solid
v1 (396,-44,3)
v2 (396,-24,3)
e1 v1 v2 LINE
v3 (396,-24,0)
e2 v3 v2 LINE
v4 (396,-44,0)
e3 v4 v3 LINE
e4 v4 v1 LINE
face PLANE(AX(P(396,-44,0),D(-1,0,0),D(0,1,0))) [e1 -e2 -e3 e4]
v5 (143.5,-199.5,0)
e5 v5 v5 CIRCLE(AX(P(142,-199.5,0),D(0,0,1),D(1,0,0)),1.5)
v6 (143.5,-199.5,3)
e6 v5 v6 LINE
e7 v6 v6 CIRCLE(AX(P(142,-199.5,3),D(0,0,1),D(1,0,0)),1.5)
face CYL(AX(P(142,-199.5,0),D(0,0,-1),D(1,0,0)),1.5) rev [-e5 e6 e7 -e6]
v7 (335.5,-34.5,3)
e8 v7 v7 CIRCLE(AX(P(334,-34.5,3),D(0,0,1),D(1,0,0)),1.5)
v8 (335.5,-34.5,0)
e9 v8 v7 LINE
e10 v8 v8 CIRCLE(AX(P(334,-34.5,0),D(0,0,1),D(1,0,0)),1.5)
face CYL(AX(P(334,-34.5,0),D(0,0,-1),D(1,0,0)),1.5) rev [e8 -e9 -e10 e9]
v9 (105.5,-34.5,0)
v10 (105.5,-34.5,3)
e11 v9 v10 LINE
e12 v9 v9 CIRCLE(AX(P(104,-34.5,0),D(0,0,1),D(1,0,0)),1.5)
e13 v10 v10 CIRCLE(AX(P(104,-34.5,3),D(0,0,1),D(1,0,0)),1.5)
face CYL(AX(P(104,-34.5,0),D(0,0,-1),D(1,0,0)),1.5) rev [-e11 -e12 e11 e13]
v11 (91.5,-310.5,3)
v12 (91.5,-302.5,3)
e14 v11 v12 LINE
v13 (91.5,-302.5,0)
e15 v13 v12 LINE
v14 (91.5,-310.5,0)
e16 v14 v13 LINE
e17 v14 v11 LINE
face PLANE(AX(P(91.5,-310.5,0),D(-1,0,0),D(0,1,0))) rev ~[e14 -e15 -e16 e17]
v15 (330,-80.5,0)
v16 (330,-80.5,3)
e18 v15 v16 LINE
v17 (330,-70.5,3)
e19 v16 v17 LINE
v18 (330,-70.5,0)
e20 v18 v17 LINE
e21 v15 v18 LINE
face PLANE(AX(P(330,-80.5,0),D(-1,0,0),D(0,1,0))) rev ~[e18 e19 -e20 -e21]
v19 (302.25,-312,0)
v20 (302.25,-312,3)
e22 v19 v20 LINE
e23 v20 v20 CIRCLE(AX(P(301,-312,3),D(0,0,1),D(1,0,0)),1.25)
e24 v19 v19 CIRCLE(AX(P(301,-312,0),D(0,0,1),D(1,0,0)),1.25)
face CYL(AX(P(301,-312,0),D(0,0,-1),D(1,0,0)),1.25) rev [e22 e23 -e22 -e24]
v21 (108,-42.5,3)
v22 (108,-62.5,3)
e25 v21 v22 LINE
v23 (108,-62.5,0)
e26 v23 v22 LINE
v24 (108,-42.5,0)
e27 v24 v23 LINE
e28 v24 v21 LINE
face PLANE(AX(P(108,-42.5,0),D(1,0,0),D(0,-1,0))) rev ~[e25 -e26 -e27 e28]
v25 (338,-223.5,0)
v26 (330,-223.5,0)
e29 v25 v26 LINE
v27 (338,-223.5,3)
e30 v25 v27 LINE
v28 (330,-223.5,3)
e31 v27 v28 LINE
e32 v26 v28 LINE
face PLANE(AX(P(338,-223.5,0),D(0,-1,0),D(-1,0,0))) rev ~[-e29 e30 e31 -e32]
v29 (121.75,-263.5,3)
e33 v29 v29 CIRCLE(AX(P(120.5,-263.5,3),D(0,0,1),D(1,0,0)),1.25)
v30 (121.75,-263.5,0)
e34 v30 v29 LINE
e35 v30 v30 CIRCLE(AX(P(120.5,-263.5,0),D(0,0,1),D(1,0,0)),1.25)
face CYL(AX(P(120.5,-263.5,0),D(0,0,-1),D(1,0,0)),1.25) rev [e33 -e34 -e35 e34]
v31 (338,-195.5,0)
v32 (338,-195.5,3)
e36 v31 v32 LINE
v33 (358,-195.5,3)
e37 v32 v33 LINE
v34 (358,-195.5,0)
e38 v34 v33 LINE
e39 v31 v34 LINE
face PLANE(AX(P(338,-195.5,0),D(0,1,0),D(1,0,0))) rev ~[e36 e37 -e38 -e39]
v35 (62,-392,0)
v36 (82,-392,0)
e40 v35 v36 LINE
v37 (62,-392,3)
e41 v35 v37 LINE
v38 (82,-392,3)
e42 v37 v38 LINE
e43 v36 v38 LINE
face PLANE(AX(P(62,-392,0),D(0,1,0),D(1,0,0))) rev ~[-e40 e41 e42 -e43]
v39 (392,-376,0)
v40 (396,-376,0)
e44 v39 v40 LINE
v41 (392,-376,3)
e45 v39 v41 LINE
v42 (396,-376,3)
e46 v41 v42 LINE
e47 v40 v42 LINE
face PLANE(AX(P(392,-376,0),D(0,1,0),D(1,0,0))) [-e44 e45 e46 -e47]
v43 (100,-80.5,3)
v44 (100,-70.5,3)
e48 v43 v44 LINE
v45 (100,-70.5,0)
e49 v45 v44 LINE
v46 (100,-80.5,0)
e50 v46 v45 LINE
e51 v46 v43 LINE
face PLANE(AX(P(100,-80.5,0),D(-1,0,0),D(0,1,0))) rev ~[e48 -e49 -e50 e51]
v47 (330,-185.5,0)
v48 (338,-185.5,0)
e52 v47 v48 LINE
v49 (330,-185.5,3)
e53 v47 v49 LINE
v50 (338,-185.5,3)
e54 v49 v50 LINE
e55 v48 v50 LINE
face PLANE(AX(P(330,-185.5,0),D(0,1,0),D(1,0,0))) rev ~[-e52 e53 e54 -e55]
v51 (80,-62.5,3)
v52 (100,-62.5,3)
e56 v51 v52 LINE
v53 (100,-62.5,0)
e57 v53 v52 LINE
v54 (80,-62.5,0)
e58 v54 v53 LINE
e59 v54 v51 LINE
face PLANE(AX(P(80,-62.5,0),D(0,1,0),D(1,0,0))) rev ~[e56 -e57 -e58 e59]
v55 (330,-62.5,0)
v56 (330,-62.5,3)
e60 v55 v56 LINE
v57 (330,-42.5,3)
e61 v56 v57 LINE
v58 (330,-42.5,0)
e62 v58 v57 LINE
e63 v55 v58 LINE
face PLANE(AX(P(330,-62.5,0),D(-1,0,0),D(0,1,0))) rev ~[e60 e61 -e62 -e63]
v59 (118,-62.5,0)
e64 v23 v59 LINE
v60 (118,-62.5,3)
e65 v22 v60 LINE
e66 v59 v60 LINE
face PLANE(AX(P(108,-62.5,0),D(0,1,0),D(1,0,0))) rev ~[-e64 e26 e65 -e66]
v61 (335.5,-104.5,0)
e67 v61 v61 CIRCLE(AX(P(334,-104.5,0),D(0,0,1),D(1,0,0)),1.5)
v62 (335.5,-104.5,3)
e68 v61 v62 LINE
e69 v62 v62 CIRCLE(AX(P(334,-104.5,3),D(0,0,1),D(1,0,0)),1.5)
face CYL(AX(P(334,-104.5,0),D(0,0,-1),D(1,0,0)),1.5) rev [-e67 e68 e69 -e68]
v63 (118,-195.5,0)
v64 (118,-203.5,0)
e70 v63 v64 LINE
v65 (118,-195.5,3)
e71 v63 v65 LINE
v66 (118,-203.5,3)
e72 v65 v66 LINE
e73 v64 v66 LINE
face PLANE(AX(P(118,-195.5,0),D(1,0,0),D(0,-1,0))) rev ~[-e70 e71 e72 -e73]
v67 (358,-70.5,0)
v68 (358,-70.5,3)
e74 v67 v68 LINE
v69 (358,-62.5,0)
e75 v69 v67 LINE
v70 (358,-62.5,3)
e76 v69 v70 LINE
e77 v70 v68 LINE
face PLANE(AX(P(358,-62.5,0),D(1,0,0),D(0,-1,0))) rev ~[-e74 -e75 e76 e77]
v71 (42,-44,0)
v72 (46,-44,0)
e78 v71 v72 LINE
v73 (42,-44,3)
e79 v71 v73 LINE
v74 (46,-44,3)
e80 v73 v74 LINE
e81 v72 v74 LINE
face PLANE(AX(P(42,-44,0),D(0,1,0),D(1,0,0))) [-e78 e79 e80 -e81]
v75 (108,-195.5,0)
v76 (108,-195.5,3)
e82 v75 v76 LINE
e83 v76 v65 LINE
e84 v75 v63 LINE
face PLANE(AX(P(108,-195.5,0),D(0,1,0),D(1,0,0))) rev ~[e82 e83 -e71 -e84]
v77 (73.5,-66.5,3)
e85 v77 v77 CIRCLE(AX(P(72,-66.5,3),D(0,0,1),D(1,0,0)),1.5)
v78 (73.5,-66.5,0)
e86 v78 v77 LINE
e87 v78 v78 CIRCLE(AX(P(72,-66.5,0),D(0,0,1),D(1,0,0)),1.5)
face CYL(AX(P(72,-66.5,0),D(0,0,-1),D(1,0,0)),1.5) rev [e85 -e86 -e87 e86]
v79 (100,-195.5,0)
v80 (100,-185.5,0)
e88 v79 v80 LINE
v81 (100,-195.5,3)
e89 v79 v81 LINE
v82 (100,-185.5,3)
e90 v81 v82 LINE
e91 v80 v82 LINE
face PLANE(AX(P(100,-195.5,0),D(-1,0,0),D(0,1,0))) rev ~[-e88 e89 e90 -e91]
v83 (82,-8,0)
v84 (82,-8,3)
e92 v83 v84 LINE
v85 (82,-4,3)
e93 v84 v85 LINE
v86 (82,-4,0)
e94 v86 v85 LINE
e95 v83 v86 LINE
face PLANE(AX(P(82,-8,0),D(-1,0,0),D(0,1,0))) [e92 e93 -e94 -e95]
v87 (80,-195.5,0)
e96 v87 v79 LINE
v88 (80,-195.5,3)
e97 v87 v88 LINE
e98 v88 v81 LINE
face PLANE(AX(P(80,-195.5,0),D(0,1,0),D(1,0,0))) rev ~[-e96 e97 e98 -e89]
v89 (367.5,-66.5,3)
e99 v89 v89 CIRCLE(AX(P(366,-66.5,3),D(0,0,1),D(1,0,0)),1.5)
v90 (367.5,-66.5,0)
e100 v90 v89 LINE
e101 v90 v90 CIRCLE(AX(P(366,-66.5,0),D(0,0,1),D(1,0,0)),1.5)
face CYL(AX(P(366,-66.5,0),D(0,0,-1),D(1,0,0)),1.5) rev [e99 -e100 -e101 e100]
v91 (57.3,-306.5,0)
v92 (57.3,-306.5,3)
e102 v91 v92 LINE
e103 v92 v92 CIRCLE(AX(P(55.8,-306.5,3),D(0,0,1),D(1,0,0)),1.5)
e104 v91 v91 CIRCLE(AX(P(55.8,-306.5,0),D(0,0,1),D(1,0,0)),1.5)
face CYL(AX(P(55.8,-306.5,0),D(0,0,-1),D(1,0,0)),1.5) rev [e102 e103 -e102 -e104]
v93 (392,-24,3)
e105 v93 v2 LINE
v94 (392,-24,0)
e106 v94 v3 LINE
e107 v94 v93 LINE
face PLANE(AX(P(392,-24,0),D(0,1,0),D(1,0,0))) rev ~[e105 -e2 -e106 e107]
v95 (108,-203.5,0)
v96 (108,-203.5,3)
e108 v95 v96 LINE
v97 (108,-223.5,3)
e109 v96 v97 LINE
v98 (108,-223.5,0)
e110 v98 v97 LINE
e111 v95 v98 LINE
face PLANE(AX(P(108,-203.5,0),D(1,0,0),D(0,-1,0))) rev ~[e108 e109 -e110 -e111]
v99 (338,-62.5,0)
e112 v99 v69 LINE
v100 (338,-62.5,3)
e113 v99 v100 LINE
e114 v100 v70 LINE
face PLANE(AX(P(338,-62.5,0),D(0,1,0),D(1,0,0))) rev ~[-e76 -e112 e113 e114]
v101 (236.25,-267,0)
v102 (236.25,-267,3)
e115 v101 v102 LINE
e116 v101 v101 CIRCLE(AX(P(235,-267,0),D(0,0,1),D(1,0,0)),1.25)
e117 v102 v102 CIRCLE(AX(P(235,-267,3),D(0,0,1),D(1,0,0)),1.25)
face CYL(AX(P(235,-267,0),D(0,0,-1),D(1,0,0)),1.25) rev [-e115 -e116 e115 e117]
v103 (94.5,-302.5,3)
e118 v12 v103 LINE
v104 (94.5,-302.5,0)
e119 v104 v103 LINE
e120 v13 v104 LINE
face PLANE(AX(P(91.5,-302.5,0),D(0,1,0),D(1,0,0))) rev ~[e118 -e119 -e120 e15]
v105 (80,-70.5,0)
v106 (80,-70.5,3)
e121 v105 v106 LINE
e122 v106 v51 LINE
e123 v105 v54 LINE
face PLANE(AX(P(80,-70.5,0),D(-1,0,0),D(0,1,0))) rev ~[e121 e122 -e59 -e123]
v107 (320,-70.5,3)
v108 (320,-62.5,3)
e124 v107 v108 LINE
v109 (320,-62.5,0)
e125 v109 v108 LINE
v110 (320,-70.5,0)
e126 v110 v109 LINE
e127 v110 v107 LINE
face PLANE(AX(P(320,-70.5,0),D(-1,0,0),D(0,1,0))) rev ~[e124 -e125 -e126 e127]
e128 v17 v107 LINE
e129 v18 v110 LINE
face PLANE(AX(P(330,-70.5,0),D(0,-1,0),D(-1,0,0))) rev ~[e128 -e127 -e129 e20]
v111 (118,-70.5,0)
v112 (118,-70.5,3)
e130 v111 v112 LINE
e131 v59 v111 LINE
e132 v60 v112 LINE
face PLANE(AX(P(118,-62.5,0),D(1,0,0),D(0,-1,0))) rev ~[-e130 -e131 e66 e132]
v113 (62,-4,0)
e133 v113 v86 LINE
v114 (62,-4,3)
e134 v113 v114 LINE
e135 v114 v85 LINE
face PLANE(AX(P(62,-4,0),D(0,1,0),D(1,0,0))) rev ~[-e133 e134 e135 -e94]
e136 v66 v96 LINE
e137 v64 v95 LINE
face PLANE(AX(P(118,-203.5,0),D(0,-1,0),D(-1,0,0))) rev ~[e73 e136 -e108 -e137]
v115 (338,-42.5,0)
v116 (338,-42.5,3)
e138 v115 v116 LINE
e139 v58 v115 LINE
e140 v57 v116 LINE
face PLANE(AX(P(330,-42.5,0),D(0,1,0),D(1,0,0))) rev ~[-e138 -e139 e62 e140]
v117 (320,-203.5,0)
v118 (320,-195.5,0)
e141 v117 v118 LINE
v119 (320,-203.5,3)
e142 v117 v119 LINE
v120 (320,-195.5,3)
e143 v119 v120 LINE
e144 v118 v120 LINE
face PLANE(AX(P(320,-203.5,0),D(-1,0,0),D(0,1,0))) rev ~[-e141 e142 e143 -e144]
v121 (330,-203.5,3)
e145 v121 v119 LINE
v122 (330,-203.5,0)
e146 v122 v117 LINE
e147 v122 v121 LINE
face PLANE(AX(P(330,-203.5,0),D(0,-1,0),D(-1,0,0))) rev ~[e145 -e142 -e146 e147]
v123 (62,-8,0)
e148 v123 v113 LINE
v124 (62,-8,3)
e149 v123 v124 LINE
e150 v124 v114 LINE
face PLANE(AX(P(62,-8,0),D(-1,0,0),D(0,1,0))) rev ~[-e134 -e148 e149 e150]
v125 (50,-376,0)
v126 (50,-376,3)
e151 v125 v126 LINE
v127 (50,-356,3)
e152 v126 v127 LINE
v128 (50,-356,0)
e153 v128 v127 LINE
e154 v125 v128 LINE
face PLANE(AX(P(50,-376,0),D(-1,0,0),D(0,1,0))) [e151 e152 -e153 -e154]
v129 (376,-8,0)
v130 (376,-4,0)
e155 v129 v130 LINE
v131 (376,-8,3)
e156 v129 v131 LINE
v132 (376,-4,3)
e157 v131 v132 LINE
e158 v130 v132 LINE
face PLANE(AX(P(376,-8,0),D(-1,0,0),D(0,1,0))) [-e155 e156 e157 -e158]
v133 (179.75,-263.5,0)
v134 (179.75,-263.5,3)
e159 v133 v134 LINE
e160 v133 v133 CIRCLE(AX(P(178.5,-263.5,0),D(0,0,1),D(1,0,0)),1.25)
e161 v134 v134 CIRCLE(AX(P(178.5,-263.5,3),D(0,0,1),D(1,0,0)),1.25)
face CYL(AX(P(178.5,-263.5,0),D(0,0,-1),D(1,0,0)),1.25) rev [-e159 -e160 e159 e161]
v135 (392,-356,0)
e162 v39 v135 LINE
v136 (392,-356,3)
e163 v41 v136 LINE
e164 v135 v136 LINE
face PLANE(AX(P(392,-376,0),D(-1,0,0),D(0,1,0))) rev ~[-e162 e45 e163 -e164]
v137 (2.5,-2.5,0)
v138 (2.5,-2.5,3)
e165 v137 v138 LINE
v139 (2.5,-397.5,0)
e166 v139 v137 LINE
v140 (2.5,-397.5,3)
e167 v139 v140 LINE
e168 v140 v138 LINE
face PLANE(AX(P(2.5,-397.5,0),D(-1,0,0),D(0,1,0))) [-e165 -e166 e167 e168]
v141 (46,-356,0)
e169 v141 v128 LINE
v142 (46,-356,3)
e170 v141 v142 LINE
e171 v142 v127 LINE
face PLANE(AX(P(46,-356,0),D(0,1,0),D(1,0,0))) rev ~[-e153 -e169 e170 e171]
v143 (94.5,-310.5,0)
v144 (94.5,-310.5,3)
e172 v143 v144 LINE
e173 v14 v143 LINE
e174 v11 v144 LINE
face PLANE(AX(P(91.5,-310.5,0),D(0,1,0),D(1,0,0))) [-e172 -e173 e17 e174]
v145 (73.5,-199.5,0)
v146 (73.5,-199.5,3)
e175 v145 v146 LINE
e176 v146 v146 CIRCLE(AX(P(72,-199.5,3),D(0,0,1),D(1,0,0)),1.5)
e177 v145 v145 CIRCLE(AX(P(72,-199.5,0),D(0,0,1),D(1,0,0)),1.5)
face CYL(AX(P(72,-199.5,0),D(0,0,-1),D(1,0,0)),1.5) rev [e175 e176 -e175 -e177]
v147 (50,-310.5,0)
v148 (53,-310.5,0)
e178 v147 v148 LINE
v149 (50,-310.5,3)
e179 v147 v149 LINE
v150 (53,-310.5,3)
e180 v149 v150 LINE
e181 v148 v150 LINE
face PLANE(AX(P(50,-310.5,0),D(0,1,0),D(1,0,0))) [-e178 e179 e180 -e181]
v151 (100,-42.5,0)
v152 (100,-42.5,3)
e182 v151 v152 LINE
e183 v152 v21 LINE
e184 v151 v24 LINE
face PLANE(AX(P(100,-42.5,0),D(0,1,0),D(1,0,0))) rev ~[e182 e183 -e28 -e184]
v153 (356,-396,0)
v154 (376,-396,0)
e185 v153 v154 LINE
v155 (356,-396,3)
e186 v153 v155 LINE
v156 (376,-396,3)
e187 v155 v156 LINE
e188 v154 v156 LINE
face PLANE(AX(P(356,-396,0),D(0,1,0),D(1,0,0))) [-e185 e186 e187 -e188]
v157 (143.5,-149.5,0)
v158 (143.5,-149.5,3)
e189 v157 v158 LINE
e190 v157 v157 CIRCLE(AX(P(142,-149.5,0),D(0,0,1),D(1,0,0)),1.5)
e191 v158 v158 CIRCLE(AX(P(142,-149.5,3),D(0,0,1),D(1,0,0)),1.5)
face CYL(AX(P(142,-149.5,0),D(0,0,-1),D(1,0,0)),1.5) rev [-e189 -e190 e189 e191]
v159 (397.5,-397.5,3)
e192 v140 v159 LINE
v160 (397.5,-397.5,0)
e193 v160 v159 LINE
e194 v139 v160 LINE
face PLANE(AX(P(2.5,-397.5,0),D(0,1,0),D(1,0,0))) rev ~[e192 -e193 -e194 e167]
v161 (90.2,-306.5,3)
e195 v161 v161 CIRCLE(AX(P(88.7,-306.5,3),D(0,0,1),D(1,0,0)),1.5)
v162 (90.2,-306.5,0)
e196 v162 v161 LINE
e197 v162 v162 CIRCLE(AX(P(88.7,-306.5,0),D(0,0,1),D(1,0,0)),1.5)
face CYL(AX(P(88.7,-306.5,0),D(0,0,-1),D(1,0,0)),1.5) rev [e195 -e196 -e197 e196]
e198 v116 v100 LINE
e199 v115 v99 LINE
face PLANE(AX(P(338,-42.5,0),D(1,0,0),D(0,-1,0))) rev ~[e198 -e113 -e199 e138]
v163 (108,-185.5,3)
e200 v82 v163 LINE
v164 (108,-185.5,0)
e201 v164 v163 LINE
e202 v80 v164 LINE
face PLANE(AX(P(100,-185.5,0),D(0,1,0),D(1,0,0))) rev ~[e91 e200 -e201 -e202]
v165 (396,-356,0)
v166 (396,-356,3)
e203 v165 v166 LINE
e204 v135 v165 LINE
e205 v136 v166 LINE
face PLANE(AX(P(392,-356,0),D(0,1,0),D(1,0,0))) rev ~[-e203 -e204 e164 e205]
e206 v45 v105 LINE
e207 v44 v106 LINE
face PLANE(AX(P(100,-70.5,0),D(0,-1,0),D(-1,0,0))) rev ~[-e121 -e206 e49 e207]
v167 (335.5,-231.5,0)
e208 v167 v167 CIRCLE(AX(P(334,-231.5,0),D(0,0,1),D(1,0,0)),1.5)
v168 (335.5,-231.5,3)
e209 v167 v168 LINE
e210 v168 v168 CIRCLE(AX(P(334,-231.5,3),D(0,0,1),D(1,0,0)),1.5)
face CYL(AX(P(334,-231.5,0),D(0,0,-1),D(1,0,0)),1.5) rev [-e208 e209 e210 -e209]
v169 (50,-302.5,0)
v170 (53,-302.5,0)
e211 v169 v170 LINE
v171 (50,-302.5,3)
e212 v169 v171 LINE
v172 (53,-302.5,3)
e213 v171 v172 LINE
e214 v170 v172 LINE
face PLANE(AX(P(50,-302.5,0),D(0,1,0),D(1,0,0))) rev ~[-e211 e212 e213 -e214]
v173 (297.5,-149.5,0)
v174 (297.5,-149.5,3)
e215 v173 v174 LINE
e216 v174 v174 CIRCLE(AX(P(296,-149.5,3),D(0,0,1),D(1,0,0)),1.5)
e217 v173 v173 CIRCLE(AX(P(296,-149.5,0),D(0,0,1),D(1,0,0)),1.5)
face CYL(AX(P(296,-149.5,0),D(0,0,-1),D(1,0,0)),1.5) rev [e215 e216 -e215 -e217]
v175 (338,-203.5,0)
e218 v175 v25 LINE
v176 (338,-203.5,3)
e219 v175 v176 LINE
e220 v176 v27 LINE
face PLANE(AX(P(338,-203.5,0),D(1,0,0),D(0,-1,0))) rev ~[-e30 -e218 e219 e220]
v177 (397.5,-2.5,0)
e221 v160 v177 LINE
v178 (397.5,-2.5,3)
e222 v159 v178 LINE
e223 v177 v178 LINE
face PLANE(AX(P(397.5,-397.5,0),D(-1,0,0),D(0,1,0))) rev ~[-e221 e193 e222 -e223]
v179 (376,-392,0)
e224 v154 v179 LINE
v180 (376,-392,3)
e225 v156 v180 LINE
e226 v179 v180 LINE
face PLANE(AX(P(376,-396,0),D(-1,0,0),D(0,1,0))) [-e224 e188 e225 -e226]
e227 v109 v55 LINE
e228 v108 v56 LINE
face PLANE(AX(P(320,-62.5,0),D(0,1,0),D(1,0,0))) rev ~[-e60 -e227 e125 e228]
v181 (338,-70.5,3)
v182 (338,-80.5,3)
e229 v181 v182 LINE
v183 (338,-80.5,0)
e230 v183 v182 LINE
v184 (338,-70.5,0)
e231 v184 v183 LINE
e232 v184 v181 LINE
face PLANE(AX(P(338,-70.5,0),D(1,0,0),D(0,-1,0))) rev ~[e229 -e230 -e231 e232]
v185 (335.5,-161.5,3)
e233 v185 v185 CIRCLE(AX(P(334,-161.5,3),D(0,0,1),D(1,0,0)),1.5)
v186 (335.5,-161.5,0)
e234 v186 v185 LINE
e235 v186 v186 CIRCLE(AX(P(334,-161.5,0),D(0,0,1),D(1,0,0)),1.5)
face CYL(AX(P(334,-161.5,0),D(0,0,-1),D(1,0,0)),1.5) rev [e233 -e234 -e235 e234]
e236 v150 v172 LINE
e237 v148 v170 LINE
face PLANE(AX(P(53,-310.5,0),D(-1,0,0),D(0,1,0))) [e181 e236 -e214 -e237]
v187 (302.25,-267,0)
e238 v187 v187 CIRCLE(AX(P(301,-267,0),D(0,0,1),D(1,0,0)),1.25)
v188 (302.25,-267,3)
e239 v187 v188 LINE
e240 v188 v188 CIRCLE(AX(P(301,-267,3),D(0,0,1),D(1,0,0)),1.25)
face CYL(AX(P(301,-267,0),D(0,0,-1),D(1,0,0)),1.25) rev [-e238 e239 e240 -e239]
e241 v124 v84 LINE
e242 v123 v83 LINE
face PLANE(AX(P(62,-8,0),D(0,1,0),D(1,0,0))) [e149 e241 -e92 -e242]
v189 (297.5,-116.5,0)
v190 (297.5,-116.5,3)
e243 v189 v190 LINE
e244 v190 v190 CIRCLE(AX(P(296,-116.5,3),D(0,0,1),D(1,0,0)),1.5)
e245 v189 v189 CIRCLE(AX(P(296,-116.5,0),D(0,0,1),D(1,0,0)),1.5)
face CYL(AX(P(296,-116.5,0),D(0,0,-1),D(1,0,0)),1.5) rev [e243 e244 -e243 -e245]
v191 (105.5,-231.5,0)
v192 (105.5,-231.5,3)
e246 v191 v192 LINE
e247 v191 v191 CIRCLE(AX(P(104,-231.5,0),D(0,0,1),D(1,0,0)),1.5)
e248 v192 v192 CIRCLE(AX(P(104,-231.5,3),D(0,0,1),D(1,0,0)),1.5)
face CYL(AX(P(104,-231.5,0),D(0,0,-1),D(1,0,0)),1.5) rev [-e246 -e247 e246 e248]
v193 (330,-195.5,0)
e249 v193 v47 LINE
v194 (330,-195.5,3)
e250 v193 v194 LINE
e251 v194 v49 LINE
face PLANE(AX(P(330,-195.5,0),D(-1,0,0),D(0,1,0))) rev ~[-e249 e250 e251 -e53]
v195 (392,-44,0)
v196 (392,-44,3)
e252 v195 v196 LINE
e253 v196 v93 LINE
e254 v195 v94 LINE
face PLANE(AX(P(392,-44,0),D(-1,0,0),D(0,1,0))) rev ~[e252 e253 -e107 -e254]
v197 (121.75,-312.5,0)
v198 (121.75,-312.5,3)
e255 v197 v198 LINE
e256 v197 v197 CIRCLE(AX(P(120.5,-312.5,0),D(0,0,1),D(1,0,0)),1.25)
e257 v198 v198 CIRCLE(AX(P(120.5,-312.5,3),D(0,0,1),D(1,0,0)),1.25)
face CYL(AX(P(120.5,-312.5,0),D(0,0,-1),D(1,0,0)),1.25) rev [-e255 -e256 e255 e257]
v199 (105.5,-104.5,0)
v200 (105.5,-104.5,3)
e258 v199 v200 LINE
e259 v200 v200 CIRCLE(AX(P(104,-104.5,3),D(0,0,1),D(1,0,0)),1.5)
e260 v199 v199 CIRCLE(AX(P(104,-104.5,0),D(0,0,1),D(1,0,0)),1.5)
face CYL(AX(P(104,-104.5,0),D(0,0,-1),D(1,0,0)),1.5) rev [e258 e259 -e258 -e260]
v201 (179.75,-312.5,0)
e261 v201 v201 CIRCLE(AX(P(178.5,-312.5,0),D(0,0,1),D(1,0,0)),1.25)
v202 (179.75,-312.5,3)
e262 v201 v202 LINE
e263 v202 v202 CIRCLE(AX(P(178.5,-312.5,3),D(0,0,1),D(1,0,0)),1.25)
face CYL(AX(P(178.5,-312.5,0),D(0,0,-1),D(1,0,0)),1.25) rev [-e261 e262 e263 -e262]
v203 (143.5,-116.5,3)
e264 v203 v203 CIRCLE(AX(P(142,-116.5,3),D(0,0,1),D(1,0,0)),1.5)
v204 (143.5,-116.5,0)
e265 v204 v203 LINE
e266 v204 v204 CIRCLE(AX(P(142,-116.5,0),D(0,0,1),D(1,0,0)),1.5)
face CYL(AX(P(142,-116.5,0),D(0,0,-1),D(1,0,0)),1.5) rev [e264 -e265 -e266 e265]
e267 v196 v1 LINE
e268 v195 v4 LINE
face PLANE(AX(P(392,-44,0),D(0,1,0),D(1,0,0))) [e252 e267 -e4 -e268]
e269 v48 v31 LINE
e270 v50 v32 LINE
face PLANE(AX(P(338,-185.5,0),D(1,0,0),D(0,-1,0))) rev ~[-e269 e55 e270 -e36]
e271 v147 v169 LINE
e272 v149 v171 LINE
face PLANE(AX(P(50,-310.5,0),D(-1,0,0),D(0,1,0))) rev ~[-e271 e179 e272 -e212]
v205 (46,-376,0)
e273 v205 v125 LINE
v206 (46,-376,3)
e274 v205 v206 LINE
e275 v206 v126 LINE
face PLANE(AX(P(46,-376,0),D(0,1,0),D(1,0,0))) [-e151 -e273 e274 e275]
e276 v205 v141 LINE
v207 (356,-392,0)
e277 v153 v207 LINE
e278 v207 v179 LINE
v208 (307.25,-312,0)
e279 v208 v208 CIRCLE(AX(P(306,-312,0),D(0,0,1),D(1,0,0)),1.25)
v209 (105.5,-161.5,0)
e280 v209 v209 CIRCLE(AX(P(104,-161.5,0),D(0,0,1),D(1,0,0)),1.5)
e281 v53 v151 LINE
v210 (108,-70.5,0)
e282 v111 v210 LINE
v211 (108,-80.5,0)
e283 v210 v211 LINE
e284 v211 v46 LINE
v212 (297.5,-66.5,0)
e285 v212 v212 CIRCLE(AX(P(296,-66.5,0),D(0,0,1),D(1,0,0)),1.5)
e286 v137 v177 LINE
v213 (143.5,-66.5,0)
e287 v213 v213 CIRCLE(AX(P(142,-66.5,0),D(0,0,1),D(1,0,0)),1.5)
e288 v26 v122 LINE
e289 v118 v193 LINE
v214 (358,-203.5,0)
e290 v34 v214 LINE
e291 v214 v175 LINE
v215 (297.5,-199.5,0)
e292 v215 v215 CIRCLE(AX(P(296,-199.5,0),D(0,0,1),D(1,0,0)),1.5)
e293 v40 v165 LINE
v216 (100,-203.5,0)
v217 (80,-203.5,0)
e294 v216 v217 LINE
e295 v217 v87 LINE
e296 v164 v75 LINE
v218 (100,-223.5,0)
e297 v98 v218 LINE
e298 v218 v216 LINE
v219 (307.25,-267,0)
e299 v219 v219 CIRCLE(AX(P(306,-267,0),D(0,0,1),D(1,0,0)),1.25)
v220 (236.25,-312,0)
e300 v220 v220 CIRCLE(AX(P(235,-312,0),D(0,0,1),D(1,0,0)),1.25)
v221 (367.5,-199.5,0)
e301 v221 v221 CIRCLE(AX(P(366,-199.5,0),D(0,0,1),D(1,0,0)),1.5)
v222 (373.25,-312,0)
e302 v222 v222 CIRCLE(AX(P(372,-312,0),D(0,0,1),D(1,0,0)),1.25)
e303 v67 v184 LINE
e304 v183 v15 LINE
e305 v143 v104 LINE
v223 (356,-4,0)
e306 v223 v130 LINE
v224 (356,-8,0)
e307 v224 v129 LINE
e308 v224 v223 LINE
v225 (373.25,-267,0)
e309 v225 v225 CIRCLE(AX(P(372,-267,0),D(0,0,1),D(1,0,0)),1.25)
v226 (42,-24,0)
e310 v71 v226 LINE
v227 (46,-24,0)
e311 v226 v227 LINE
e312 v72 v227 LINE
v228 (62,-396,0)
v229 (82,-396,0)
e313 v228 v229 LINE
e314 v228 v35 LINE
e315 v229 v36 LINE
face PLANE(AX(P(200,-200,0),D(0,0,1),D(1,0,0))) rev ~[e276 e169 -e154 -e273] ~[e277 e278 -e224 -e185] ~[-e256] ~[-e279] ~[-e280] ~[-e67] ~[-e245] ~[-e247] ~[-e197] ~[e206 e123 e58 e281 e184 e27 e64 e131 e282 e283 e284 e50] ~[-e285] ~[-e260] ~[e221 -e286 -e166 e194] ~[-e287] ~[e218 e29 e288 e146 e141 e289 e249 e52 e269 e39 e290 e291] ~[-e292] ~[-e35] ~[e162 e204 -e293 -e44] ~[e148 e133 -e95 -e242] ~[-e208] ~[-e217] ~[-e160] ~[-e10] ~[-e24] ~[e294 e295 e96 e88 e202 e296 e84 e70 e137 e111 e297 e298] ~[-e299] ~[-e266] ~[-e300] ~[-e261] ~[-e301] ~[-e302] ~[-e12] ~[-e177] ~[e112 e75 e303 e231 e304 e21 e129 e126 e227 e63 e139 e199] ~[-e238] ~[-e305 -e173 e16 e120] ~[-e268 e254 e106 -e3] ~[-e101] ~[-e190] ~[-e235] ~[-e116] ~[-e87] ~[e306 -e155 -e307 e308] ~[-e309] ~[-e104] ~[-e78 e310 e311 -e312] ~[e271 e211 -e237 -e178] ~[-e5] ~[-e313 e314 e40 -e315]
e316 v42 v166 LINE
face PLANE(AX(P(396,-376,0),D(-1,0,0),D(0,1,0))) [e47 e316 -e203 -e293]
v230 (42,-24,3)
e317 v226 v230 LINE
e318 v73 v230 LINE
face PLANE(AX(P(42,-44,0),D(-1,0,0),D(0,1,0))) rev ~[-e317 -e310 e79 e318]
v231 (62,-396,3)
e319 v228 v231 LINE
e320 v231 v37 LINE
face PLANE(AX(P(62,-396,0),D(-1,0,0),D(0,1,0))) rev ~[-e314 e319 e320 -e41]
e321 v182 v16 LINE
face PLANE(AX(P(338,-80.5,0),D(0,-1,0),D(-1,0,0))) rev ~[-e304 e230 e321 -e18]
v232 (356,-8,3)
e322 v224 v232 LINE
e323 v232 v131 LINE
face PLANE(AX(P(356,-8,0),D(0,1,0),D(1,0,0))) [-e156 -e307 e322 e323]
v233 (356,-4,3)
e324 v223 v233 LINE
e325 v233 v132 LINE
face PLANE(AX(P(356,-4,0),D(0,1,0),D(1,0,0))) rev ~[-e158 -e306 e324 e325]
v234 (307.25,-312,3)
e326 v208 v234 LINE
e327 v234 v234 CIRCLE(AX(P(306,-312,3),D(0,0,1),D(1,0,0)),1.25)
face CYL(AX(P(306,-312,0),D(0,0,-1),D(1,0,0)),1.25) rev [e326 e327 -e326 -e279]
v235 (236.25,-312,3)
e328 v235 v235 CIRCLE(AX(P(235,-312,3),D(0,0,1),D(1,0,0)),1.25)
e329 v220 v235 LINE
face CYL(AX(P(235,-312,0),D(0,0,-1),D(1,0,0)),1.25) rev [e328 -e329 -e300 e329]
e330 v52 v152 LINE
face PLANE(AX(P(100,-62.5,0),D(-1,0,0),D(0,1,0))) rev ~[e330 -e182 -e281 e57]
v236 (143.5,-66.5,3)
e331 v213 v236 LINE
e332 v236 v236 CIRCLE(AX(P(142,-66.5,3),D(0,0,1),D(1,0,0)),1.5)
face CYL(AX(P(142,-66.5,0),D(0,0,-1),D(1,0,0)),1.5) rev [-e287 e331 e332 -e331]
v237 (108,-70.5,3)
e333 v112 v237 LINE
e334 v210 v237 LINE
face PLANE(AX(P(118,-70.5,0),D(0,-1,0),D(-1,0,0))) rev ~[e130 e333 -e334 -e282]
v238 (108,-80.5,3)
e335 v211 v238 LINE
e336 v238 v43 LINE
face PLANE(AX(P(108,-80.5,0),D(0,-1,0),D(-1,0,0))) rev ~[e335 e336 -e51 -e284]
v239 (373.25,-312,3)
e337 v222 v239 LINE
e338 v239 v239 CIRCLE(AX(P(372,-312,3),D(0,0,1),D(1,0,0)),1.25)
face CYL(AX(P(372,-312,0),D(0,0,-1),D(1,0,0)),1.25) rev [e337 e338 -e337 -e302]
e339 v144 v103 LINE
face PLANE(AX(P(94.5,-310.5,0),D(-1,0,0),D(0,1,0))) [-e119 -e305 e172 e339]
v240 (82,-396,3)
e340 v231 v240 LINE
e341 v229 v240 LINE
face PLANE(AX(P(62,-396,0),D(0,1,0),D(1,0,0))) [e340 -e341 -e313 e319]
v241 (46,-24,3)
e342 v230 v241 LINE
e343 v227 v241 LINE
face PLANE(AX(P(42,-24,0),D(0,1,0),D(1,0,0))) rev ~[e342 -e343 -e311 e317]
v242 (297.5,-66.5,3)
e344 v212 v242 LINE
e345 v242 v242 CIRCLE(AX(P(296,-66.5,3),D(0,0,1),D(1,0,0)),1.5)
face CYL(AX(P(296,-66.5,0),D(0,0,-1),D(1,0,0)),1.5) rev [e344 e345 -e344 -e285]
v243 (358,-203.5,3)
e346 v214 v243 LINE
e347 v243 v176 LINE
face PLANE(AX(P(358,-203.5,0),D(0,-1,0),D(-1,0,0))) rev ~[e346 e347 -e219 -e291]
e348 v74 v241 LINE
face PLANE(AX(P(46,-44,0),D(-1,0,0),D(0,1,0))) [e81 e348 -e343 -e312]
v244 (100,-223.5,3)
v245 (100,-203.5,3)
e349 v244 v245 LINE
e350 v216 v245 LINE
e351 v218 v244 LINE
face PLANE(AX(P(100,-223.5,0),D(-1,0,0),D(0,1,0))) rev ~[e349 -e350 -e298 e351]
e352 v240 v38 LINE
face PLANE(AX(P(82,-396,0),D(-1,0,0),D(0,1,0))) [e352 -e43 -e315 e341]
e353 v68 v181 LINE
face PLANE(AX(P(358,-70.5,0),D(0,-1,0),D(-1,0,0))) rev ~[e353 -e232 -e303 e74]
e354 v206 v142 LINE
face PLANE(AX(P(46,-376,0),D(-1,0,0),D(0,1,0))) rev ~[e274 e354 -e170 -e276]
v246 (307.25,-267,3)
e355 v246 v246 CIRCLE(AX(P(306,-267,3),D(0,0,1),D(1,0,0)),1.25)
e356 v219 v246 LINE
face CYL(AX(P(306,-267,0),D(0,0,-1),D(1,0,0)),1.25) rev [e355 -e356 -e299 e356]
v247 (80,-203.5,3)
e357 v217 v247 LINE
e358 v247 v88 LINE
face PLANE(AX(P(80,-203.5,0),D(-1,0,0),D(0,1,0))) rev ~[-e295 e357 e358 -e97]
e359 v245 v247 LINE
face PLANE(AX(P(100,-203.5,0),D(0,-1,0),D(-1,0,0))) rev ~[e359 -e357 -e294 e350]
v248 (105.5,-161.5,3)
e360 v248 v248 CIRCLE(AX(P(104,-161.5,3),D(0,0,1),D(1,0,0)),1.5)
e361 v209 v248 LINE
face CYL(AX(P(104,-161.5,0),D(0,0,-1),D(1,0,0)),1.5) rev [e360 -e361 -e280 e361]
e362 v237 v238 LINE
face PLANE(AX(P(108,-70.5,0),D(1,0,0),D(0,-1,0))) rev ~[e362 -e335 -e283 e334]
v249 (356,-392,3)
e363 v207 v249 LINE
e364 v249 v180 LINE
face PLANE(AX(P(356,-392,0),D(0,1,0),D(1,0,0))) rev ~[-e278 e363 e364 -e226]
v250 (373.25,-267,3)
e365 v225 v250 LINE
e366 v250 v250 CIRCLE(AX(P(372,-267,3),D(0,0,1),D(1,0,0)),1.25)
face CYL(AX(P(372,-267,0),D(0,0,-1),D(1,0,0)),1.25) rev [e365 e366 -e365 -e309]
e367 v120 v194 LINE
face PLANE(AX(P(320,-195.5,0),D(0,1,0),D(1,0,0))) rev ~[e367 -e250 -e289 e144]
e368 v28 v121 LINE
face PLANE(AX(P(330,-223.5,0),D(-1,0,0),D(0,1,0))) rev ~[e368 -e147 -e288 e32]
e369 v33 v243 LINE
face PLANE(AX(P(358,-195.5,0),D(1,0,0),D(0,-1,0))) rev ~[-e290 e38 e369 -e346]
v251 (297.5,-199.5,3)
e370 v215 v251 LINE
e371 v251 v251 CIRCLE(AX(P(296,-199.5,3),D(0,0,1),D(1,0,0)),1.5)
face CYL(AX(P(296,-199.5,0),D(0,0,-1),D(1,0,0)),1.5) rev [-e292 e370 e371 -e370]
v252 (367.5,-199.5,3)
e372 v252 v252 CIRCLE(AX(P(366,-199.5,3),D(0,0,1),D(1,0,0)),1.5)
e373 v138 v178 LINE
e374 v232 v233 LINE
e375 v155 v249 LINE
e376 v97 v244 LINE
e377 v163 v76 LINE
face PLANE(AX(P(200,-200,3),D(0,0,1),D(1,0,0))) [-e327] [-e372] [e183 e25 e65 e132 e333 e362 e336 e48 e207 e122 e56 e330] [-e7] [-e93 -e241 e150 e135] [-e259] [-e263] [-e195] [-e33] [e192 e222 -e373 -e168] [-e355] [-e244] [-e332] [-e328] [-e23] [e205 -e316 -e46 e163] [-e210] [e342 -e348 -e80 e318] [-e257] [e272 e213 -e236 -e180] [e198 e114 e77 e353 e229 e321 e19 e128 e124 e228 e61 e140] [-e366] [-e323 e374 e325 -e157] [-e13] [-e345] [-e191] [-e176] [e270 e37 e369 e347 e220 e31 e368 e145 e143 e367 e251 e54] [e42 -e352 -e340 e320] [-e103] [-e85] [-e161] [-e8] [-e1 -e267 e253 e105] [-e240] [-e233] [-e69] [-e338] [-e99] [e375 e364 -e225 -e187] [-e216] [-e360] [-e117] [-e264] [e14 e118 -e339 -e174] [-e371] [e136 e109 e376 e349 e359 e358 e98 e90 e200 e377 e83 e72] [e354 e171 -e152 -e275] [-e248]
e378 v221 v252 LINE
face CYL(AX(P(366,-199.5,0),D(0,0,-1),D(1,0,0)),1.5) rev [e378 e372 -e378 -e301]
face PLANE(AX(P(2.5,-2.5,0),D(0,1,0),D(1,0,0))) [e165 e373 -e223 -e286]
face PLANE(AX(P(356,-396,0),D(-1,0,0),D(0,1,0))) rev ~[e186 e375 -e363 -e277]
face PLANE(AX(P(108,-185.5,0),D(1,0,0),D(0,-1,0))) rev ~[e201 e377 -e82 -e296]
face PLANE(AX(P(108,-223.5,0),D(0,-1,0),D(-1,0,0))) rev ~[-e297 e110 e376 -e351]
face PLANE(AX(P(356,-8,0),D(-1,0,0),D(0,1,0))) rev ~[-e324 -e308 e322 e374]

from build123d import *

# Parameters (mm, degrees)
SKETCH_W   = 395
SKETCH_H   = 395
SKETCH_R   = 1.25
SKETCH_R_2 = 1.5
SKETCH_W_2 = 20
SKETCH_H_2 = 4
SKETCH_W_3 = 4
SKETCH_H_3 = 20
SKETCH_W_4 = 3
SKETCH_H_4 = 8
PAD_DEPTH  = 3


with BuildPart() as part:
    # Sketch → Pad (new body)
    with BuildSketch(Plane.XY):
        Rectangle(SKETCH_W, SKETCH_H)
        with Locations((-21.5, -63.5)):
            Circle(SKETCH_R, mode=Mode.SUBTRACT)
        with Locations((-21.5, -112.5)):
            Circle(SKETCH_R, mode=Mode.SUBTRACT)
        with Locations((-58, 133.5)):
            Circle(SKETCH_R_2, mode=Mode.SUBTRACT)
        with Locations((96, 133.5)):
            Circle(SKETCH_R_2, mode=Mode.SUBTRACT)
        with Locations((-58, 0.5)):
            Circle(SKETCH_R_2, mode=Mode.SUBTRACT)
        with Locations((96, 0.5)):
            Circle(SKETCH_R_2, mode=Mode.SUBTRACT)
        with Locations((-58, 83.5)):
            Circle(SKETCH_R_2, mode=Mode.SUBTRACT)
        with Locations((-58, 50.5)):
            Circle(SKETCH_R_2, mode=Mode.SUBTRACT)
        with Locations((96, 83.5)):
            Circle(SKETCH_R_2, mode=Mode.SUBTRACT)
        with Locations((96, 50.5)):
            Circle(SKETCH_R_2, mode=Mode.SUBTRACT)
        with Locations((-128, 133.5)):
            Circle(SKETCH_R_2, mode=Mode.SUBTRACT)
        with Locations((-96, 165.5)):
            Circle(SKETCH_R_2, mode=Mode.SUBTRACT)
        with Locations((-96, 95.5)):
            Circle(SKETCH_R_2, mode=Mode.SUBTRACT)
        with Locations((-96, 38.5)):
            Circle(SKETCH_R_2, mode=Mode.SUBTRACT)
        with Locations((-128, 0.5)):
            Circle(SKETCH_R_2, mode=Mode.SUBTRACT)
        with Locations((-96, -31.5)):
            Circle(SKETCH_R_2, mode=Mode.SUBTRACT)
        with Locations((134, -31.5)):
            Circle(SKETCH_R_2, mode=Mode.SUBTRACT)
        with Locations((166, 0.5)):
            Circle(SKETCH_R_2, mode=Mode.SUBTRACT)
        with Locations((134, 38.5)):
            Circle(SKETCH_R_2, mode=Mode.SUBTRACT)
        with Locations((134, 95.5)):
            Circle(SKETCH_R_2, mode=Mode.SUBTRACT)
        with Locations((166, 133.5)):
            Circle(SKETCH_R_2, mode=Mode.SUBTRACT)
        with Locations((134, 165.5)):
            Circle(SKETCH_R_2, mode=Mode.SUBTRACT)
        with Locations((35, -67)):
            Circle(SKETCH_R, mode=Mode.SUBTRACT)
        with Locations((35, -112)):
            Circle(SKETCH_R, mode=Mode.SUBTRACT)
        with Locations((101, -67)):
            Circle(SKETCH_R, mode=Mode.SUBTRACT)
        with Locations((106, -67)):
            Circle(SKETCH_R, mode=Mode.SUBTRACT)
        with Locations((172, -67)):
            Circle(SKETCH_R, mode=Mode.SUBTRACT)
        with Locations((172, -112)):
            Circle(SKETCH_R, mode=Mode.SUBTRACT)
        with Locations((106, -112)):
            Circle(SKETCH_R, mode=Mode.SUBTRACT)
        with Locations((101, -112)):
            Circle(SKETCH_R, mode=Mode.SUBTRACT)
        with Locations((-79.5, -63.5)):
            Circle(SKETCH_R, mode=Mode.SUBTRACT)
        with Locations((-79.5, -112.5)):
            Circle(SKETCH_R, mode=Mode.SUBTRACT)
        with Locations((-144.2, -106.5)):
            Circle(SKETCH_R_2, mode=Mode.SUBTRACT)
        with Locations((-111.3, -106.5)):
            Circle(SKETCH_R_2, mode=Mode.SUBTRACT)
        Polygon((-100, 157.5), (-92, 157.5), (-92, 137.5), (-82, 137.5), (-82, 129.5), (-92, 129.5), (-92, 119.5), (-100, 119.5), (-100, 129.5), (-120, 129.5), (-120, 137.5), (-100, 137.5), align=None, mode=Mode.SUBTRACT)
        Polygon((120, 137.5), (130, 137.5), (130, 157.5), (138, 157.5), (138, 137.5), (158, 137.5), (158, 129.5), (138, 129.5), (138, 119.5), (130, 119.5), (130, 129.5), (120, 129.5), align=None, mode=Mode.SUBTRACT)
        Polygon((-100, 14.5), (-92, 14.5), (-92, 4.5), (-82, 4.5), (-82, -3.5), (-92, -3.5), (-92, -23.5), (-100, -23.5), (-100, -3.5), (-120, -3.5), (-120, 4.5), (-100, 4.5), align=None, mode=Mode.SUBTRACT)
        Polygon((130, 14.5), (138, 14.5), (138, 4.5), (158, 4.5), (158, -3.5), (138, -3.5), (138, -23.5), (130, -23.5), (130, -3.5), (120, -3.5), (120, 4.5), (130, 4.5), align=None, mode=Mode.SUBTRACT)
        with Locations((166, 194)):
            Rectangle(SKETCH_W_2, SKETCH_H_2, mode=Mode.SUBTRACT)
        with Locations((194, 166)):
            Rectangle(SKETCH_W_3, SKETCH_H_3, mode=Mode.SUBTRACT)
        with Locations((-128, 194)):
            Rectangle(SKETCH_W_2, SKETCH_H_2, mode=Mode.SUBTRACT)
        with Locations((-156, 166)):
            Rectangle(SKETCH_W_3, SKETCH_H_3, mode=Mode.SUBTRACT)
        with Locations((-152, -166)):
            Rectangle(SKETCH_W_3, SKETCH_H_3, mode=Mode.SUBTRACT)
        with Locations((-128, -194)):
            Rectangle(SKETCH_W_2, SKETCH_H_2, mode=Mode.SUBTRACT)
        with Locations((166, -194)):
            Rectangle(SKETCH_W_2, SKETCH_H_2, mode=Mode.SUBTRACT)
        with Locations((194, -166)):
            Rectangle(SKETCH_W_3, SKETCH_H_3, mode=Mode.SUBTRACT)
        with Locations((-107, -106.5)):
            Rectangle(SKETCH_W_4, SKETCH_H_4, mode=Mode.SUBTRACT)
        with Locations((-148.5, -106.5)):
            Rectangle(SKETCH_W_4, SKETCH_H_4, mode=Mode.SUBTRACT)
    extrude(amount=PAD_DEPTH)


with BuildPart() as part_1:
    # Body placement: moved
    add(part.part.moved(Location((200, -200, 0))))


solid = part_1.part
